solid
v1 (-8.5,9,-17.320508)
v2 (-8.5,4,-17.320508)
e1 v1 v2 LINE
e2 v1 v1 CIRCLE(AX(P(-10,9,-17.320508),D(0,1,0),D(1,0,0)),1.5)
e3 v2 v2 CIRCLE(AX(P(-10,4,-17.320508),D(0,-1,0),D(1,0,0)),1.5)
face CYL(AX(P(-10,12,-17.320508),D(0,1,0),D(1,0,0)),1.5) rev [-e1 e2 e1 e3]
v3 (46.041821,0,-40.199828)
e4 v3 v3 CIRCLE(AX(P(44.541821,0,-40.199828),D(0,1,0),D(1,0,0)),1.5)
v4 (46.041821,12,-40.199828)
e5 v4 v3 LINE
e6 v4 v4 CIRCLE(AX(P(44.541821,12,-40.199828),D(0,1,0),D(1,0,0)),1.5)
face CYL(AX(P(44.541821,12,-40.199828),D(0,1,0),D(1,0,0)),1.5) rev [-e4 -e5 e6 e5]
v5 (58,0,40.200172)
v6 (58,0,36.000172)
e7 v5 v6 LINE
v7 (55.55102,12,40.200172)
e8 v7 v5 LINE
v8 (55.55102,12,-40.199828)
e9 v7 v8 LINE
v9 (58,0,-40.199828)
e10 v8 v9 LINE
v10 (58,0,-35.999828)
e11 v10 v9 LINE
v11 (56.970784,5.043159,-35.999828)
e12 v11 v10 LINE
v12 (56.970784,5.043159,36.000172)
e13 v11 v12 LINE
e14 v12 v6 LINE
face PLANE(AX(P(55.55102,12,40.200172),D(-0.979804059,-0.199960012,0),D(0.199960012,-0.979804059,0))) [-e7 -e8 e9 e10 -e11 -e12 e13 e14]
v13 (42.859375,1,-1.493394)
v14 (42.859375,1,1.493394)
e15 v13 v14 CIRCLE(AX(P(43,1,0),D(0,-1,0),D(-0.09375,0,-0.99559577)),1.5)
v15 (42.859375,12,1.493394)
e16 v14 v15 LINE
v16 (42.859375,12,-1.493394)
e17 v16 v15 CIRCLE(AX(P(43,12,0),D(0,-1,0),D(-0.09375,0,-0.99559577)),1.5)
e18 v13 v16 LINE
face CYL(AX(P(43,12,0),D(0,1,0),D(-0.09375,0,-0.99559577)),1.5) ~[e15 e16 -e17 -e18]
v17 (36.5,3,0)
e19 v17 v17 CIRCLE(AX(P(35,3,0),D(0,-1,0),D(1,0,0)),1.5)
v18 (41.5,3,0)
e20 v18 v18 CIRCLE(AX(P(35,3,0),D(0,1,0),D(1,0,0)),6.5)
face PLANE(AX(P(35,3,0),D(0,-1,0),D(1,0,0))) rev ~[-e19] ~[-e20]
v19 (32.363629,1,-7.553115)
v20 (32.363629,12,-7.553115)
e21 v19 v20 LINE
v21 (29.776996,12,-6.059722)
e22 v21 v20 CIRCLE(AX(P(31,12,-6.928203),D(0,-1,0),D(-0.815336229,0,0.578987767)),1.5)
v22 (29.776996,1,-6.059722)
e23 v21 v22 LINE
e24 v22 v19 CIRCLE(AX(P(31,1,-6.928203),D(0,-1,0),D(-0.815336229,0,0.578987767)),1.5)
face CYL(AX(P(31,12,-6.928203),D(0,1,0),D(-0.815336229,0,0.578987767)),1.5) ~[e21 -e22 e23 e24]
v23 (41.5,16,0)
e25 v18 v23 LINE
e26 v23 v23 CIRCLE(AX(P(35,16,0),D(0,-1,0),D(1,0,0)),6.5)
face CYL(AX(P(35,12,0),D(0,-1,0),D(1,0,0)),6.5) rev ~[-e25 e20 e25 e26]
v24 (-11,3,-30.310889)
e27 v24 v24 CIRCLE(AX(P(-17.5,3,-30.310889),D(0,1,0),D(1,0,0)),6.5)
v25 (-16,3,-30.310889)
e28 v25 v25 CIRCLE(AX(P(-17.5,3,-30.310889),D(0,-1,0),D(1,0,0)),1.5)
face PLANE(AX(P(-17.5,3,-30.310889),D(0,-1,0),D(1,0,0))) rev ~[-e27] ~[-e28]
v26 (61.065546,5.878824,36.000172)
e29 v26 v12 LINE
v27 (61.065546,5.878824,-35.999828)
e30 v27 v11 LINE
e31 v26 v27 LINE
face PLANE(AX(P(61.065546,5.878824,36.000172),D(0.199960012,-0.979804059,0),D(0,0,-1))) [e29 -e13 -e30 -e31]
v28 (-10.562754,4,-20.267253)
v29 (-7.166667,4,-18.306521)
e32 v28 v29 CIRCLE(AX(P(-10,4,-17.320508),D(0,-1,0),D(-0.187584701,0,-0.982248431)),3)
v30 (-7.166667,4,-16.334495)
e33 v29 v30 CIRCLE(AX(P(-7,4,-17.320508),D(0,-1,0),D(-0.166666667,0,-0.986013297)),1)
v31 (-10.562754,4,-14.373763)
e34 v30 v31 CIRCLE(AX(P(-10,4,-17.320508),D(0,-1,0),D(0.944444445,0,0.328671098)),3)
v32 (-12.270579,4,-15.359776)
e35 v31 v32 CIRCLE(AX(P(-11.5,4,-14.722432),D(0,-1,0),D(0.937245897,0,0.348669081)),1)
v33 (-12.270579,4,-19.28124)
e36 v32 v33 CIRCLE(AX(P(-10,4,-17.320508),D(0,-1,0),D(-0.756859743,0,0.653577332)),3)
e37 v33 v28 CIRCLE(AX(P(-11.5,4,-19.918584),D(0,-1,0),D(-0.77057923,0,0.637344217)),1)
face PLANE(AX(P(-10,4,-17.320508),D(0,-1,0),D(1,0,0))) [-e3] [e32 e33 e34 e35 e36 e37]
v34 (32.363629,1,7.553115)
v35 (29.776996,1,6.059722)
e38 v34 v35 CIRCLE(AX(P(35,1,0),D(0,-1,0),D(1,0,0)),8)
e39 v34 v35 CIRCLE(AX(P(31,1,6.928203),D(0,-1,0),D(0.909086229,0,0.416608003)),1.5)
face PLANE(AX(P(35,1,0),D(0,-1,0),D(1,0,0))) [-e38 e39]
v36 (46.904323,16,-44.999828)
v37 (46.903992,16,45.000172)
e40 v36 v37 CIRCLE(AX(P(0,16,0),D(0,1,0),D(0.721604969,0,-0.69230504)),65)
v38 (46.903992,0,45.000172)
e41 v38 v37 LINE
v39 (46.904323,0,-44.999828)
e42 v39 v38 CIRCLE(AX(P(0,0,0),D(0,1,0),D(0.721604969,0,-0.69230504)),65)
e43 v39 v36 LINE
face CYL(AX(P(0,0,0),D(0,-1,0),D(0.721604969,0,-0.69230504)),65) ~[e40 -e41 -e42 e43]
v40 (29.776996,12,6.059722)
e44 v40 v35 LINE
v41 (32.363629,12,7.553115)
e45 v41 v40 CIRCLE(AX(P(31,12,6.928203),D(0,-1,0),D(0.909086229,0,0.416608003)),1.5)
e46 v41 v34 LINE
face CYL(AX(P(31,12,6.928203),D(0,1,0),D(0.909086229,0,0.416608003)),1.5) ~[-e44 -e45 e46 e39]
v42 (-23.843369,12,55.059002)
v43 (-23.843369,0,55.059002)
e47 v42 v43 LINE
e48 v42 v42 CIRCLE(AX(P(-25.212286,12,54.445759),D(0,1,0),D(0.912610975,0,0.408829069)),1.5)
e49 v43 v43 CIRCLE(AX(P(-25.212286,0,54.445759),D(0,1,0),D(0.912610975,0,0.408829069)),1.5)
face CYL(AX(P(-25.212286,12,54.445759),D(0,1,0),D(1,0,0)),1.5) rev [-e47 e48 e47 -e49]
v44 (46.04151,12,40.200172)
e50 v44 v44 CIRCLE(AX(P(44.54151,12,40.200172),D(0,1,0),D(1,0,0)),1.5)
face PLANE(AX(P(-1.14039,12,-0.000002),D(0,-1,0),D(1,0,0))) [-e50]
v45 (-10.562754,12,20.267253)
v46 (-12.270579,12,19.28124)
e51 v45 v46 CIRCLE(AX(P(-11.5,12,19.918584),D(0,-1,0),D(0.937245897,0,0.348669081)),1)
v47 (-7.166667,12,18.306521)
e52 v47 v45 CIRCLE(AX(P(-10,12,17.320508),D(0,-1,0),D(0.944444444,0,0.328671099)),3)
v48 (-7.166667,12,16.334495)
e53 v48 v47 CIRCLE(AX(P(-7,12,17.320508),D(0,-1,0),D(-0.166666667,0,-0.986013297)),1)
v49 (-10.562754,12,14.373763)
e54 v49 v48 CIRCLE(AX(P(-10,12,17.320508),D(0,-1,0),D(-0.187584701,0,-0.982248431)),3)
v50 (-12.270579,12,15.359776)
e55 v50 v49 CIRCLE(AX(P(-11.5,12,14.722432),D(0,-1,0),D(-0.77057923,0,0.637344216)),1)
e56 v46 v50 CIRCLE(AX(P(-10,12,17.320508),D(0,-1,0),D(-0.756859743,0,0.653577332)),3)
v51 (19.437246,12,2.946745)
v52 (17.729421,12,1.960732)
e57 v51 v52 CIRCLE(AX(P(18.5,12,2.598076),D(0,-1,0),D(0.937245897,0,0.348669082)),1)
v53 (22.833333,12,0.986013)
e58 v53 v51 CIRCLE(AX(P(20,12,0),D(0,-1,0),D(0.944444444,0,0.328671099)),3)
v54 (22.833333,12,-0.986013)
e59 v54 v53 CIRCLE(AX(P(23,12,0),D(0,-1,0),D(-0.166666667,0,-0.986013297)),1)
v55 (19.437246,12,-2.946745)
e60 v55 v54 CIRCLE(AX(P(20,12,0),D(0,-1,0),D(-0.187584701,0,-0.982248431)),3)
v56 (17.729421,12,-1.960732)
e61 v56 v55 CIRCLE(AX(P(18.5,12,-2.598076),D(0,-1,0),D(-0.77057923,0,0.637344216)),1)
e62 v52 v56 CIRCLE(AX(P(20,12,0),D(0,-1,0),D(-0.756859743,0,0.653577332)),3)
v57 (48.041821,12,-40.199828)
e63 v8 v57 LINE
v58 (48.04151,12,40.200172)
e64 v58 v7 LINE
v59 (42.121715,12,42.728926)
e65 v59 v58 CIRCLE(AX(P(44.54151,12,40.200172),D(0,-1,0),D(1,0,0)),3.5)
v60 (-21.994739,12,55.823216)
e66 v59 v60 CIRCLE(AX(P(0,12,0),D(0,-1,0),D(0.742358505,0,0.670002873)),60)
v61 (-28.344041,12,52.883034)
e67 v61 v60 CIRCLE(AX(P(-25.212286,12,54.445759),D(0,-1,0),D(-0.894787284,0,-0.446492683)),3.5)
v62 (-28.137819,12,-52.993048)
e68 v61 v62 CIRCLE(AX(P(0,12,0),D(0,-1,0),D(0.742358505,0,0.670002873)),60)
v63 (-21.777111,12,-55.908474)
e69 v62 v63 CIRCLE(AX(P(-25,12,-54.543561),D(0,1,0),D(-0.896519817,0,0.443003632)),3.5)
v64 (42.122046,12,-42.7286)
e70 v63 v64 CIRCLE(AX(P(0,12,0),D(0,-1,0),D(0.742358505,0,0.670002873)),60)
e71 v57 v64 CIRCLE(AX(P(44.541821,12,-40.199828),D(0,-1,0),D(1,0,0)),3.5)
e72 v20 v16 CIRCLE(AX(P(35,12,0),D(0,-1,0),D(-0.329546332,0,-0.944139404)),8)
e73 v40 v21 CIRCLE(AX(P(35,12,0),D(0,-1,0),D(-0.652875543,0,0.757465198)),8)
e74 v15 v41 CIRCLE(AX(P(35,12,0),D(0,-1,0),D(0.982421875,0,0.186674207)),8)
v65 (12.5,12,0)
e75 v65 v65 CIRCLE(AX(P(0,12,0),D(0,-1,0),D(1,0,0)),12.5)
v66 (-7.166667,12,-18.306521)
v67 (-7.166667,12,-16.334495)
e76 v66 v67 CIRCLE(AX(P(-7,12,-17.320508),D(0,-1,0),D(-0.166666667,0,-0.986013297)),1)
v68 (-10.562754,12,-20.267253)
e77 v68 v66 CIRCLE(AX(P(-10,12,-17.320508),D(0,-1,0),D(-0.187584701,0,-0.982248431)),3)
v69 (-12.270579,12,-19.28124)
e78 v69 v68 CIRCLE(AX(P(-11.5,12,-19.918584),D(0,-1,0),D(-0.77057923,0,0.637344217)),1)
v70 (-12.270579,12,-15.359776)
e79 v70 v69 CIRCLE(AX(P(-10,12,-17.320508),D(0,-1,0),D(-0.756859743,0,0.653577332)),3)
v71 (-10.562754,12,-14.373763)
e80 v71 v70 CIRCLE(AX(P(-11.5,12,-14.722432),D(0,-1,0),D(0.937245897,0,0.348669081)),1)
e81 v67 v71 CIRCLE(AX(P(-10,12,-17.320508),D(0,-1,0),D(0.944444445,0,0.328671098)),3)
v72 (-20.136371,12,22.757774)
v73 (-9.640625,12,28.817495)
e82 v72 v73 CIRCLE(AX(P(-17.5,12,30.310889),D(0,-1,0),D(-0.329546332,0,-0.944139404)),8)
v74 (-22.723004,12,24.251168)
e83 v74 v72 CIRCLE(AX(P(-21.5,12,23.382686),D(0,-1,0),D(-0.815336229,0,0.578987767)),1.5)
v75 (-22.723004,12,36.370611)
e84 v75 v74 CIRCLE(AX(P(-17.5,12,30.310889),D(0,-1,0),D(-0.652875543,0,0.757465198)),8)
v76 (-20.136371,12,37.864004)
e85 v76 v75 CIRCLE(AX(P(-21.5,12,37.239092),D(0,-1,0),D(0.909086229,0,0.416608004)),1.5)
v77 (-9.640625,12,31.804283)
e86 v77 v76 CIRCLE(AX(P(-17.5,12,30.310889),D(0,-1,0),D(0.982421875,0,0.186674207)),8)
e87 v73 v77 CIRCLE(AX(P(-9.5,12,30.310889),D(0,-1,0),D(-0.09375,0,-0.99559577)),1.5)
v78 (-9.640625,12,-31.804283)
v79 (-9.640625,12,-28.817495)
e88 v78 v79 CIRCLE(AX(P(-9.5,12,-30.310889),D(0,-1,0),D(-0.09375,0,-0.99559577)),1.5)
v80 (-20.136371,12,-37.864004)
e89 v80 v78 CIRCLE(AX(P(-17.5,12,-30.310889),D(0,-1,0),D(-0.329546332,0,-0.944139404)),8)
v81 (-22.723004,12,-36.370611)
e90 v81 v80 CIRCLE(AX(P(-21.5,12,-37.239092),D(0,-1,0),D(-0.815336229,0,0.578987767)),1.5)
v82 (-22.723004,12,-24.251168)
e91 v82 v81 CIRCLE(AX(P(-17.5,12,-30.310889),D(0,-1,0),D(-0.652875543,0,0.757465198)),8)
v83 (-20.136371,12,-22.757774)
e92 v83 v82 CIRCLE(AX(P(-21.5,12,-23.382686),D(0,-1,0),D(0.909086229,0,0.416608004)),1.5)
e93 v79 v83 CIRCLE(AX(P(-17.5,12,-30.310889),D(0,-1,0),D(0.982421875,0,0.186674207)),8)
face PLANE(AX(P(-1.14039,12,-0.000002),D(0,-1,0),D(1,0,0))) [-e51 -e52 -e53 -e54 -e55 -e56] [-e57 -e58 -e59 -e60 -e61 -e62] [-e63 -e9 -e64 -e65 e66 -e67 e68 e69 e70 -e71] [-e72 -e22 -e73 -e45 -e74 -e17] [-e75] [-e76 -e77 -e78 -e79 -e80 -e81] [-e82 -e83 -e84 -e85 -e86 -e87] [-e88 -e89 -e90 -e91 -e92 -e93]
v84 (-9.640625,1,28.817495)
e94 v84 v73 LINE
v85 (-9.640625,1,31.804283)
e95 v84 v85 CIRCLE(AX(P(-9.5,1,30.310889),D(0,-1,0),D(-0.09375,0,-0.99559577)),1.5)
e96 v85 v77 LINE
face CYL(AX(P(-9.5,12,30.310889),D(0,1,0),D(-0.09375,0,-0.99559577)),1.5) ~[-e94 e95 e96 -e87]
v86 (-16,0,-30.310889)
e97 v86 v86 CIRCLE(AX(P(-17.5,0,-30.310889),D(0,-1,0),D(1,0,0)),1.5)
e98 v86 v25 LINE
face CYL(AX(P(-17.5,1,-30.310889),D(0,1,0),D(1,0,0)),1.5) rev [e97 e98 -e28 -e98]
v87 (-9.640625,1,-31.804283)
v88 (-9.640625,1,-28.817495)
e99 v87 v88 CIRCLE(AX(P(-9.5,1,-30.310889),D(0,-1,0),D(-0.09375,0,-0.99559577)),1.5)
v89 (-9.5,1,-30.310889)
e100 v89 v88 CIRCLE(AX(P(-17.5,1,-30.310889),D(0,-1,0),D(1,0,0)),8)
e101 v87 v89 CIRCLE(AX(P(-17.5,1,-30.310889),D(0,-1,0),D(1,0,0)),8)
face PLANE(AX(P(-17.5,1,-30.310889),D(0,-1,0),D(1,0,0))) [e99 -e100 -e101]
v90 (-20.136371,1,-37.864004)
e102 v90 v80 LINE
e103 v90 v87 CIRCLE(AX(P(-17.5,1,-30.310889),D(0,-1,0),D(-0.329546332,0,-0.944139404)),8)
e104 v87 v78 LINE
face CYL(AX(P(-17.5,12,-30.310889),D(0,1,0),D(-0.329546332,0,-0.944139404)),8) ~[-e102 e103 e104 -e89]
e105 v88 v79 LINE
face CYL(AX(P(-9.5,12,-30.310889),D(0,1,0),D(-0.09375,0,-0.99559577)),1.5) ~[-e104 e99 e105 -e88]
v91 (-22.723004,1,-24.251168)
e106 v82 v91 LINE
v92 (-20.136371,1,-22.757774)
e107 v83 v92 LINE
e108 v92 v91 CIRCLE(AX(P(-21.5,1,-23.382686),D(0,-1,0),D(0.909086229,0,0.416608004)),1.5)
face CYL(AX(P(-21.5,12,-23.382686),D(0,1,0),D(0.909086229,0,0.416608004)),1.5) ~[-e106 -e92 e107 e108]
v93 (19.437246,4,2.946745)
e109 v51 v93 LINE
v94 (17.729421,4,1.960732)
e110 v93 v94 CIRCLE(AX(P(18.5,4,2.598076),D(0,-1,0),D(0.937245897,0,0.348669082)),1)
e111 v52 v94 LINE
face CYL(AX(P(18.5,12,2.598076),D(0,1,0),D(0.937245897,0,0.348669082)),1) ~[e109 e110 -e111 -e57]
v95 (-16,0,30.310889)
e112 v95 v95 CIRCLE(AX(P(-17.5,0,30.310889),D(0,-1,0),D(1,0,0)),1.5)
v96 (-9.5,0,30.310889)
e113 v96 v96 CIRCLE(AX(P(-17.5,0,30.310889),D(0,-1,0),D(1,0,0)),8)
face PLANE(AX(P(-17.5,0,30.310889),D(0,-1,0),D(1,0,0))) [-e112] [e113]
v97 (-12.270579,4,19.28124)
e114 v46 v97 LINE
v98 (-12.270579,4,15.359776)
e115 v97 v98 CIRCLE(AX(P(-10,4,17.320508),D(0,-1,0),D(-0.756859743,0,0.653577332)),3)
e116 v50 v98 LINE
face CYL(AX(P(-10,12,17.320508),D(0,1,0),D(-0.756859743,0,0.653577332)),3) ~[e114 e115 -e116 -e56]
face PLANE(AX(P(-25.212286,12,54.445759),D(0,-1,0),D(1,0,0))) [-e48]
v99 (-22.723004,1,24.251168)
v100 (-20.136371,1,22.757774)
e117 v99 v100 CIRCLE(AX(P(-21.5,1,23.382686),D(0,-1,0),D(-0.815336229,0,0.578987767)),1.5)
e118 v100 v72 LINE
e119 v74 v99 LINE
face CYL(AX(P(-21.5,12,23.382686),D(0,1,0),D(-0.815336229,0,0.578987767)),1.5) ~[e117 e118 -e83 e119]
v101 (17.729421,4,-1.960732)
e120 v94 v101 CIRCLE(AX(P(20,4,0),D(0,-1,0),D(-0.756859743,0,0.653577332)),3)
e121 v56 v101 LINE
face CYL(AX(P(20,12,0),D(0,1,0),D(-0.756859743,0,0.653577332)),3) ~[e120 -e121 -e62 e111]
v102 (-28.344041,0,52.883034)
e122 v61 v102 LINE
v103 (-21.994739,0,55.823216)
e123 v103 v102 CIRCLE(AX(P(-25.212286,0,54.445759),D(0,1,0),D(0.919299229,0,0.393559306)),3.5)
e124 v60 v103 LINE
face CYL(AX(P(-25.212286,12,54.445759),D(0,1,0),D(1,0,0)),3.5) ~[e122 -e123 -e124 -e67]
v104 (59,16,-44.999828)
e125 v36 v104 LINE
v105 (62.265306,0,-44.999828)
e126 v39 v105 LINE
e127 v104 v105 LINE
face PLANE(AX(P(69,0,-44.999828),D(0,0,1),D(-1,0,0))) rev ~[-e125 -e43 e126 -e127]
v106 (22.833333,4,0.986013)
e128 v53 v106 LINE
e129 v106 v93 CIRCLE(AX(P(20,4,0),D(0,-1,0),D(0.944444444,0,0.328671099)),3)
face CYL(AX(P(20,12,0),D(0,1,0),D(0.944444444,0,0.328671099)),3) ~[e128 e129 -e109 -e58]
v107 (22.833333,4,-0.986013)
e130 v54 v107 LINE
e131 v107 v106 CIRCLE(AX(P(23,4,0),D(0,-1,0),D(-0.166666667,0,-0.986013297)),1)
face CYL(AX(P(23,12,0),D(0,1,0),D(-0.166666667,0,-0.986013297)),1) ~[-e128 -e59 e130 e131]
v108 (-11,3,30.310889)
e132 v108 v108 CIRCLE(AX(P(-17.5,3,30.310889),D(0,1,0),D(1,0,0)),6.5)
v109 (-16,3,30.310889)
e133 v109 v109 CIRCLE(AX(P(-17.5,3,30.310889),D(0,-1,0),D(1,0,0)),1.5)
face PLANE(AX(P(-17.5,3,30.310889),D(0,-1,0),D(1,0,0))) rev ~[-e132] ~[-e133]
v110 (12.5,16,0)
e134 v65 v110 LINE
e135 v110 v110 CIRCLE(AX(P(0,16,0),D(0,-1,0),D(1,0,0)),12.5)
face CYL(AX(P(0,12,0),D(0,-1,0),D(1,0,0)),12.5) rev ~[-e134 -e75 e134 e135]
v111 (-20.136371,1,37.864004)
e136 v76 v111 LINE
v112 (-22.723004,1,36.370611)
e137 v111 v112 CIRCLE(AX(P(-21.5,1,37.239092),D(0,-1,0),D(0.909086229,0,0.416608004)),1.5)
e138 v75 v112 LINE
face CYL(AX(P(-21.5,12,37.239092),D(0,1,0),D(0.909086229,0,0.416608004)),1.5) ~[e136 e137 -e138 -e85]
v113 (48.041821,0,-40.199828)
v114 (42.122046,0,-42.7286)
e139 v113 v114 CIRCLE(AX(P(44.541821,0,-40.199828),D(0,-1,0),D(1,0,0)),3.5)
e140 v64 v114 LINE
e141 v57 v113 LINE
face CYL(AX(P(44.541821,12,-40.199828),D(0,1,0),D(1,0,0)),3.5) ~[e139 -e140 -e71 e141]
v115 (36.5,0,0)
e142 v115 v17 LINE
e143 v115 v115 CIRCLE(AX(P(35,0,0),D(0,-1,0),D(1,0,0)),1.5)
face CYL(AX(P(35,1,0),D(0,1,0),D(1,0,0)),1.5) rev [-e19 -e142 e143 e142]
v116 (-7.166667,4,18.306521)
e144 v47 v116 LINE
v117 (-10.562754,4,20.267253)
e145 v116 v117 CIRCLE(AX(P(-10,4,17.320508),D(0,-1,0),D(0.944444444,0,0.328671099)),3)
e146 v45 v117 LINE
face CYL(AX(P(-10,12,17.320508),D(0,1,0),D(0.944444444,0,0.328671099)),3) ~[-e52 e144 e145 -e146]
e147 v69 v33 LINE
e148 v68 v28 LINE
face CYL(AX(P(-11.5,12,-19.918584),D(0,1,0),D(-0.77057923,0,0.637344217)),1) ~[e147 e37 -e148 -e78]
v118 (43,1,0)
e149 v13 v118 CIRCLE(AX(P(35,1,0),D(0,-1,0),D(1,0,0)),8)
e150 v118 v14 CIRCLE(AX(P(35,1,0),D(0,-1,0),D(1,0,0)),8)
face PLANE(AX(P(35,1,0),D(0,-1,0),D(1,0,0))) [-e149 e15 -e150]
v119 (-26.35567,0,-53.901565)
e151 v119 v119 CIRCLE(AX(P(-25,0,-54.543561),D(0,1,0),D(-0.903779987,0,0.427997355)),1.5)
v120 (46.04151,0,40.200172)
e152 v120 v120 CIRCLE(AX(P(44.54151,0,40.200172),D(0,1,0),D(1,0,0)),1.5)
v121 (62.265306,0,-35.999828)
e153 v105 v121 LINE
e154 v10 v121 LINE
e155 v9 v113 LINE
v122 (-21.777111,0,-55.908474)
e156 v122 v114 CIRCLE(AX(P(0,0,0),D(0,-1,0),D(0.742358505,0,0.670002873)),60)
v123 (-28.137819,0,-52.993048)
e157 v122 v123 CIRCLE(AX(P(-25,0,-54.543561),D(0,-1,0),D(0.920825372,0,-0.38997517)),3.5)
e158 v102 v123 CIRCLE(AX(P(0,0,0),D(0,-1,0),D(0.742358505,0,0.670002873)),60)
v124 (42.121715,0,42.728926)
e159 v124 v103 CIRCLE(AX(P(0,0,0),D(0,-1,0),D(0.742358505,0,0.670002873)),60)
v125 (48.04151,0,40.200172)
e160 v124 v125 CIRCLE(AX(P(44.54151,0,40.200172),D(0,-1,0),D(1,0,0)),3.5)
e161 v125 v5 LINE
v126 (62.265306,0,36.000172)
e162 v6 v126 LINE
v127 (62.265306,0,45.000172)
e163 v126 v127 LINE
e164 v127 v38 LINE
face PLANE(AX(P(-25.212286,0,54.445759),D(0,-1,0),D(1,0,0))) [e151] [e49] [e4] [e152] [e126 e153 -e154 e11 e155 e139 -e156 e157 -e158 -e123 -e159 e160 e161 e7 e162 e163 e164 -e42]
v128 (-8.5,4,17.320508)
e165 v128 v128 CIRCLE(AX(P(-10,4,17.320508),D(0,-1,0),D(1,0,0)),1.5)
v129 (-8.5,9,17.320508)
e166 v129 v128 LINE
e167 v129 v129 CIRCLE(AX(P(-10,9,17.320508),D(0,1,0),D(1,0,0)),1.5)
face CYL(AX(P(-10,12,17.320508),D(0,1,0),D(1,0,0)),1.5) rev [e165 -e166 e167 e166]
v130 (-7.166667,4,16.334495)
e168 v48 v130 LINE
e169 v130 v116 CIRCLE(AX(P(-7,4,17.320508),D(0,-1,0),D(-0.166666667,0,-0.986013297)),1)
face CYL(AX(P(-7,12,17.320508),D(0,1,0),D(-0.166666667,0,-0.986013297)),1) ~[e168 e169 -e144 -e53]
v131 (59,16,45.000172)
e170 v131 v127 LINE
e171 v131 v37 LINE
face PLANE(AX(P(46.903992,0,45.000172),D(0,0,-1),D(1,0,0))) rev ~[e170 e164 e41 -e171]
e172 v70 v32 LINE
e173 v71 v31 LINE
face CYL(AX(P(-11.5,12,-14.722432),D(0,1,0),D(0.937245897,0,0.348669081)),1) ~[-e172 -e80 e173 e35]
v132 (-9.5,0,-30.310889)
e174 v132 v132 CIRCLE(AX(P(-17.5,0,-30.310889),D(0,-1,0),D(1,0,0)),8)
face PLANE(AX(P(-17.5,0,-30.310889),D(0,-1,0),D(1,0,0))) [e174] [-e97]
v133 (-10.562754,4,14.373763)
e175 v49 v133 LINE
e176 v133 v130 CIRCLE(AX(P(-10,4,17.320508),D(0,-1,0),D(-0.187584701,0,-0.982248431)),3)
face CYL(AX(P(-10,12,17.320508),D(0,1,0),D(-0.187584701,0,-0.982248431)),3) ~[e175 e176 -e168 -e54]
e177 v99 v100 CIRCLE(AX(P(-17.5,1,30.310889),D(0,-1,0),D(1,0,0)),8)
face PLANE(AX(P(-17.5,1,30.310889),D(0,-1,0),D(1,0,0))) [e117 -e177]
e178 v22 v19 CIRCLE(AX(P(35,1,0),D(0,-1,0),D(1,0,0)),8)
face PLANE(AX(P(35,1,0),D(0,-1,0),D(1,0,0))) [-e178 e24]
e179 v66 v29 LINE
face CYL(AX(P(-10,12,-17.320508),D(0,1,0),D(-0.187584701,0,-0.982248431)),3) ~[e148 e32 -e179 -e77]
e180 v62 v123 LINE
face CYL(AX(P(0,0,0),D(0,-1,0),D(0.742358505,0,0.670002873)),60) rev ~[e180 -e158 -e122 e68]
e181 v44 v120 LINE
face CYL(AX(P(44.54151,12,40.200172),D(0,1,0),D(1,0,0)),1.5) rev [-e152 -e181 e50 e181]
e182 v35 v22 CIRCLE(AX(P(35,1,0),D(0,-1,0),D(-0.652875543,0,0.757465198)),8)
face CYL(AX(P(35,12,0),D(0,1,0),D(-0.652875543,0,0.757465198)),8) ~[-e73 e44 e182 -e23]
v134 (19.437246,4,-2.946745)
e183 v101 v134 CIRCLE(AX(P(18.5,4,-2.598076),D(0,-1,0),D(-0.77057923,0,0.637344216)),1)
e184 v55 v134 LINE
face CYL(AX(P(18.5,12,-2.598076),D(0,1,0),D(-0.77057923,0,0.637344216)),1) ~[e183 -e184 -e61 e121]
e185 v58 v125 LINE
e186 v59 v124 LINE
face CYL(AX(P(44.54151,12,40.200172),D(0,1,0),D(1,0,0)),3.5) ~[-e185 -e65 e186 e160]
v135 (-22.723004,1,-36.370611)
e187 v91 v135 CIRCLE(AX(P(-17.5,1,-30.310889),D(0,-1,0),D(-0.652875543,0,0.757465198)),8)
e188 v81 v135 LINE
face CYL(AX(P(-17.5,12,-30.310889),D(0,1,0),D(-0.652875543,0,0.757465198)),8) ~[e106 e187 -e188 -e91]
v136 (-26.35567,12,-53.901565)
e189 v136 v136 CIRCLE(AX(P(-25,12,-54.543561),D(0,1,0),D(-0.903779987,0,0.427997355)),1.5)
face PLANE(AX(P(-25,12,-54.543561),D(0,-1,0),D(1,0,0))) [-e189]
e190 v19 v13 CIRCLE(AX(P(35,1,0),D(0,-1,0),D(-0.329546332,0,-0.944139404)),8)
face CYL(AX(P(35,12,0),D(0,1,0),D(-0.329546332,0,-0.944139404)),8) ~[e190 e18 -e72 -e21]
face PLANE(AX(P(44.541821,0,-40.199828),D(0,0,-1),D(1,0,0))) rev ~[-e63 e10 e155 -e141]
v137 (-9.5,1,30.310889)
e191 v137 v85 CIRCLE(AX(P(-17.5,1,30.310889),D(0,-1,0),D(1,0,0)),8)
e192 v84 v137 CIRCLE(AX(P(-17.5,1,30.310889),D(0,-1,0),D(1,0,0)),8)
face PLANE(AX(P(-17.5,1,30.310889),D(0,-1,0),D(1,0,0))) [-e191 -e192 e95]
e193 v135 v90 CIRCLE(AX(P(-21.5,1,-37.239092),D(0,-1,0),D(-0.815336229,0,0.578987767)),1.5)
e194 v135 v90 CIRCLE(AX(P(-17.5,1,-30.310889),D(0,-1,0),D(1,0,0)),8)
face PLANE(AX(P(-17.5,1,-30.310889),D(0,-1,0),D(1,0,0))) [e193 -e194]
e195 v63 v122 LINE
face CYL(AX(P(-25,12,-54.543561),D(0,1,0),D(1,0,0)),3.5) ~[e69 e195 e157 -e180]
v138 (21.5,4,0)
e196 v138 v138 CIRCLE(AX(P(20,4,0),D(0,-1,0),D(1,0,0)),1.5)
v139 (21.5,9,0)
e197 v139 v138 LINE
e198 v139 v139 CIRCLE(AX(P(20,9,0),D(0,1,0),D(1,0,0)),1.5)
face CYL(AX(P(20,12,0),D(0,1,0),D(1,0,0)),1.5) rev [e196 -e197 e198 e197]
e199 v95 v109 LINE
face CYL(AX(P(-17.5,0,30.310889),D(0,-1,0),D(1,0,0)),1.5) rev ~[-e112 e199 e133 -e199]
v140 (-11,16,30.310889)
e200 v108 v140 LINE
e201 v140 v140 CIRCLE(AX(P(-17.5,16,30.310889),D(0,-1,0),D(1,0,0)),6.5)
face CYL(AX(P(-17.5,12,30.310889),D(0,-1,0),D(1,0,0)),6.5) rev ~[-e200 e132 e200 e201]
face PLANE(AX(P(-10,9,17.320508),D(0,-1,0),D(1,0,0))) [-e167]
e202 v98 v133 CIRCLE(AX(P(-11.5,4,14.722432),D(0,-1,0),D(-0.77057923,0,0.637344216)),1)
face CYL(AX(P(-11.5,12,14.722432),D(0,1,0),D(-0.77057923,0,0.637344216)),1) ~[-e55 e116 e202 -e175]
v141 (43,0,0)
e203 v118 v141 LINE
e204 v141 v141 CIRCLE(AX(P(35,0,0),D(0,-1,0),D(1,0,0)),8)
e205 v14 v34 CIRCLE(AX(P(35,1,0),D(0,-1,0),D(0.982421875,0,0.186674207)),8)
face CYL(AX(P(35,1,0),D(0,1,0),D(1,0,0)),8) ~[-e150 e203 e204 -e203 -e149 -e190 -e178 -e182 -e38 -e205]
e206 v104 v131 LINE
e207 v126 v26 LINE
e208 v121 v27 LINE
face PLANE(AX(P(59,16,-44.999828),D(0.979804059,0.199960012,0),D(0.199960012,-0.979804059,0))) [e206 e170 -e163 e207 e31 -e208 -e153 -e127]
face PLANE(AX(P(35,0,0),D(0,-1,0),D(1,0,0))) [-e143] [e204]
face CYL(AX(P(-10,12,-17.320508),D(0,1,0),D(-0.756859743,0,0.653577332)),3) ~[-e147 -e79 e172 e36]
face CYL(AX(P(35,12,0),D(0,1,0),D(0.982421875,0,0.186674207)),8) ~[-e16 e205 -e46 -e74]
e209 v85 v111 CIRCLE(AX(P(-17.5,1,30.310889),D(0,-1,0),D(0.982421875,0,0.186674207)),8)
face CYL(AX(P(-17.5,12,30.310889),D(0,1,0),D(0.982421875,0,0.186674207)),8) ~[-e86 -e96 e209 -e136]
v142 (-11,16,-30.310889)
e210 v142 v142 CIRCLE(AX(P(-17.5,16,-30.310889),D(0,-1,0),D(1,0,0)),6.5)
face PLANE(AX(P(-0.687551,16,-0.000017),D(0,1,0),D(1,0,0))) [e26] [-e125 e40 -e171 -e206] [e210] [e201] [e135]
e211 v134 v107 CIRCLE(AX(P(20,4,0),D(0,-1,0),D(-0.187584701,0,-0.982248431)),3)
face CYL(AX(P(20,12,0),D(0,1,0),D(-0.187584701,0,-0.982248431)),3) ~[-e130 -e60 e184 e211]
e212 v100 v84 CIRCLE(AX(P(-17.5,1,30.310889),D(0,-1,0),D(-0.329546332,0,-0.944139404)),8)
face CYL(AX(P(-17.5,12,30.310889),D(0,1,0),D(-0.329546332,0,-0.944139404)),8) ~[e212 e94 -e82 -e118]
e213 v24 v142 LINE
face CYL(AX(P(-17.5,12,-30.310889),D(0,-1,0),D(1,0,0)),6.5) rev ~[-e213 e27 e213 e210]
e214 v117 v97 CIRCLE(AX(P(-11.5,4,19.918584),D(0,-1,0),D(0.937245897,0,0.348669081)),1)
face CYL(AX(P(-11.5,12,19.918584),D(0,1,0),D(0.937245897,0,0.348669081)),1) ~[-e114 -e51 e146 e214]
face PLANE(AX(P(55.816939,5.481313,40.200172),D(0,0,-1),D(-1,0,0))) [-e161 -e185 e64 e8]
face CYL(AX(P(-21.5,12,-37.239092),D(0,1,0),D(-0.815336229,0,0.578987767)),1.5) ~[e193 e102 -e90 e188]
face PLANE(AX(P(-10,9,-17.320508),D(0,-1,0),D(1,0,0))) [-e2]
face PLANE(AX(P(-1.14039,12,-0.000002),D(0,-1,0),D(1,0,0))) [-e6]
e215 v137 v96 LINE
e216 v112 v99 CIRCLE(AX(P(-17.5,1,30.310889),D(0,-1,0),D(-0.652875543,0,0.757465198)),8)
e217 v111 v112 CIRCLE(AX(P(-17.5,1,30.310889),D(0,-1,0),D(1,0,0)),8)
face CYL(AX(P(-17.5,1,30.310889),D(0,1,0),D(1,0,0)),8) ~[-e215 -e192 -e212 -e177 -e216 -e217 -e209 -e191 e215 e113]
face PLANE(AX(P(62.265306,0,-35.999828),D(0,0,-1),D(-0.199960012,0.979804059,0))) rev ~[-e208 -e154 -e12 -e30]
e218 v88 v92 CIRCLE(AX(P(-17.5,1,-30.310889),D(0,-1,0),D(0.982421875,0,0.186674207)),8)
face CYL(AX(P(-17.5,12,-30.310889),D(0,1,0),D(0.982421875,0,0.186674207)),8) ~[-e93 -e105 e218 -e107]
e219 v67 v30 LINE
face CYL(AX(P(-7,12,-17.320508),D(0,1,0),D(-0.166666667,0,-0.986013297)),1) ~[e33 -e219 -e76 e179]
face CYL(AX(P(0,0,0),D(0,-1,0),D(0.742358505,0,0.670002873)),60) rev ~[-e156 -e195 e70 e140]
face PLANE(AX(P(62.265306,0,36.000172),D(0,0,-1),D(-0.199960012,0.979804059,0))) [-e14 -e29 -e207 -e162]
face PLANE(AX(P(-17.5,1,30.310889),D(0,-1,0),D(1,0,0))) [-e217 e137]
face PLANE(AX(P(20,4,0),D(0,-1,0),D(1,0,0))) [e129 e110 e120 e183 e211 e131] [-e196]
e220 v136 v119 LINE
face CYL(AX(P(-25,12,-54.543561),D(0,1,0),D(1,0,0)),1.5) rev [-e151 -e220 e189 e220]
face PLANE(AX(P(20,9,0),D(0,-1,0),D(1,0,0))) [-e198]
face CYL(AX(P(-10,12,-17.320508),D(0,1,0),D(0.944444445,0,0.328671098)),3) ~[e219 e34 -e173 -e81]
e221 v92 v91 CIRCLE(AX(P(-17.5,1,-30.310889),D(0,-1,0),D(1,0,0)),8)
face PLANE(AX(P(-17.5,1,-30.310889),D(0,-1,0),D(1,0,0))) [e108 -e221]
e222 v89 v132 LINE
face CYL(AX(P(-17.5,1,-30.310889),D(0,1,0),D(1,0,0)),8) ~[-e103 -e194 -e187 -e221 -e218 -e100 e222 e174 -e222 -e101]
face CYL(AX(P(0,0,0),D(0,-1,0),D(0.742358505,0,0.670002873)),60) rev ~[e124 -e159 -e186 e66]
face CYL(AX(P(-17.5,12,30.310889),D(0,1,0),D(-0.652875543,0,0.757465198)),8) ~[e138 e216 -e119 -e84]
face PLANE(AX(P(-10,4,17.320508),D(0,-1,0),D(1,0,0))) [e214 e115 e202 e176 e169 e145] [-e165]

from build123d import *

# Parameters (mm, degrees)
BOSS_EXTRUDE1_DEPTH         = 16
CUT_EXTRUDE1_DEPTH          = 12
SKETCH4_W                   = 72
SKETCH4_H                   = 5
CUT_EXTRUDE2_DEPTH          = 16
SKETCH8_R                   = 3.5
SKETCH8_R_2                 = 1.5
INTERNALHOLESBODY_DEPTH     = 12
SKETCH13_R                  = 1.5
INTERNALHOLESCUT_DEPTH      = 12
SKETCH15_W                  = 14.23560612
SKETCH15_H                  = 16
INTERNALBODYEXTENSION_DEPTH = 90
EXTERNALDIAGONALCUT_DEPTH   = 90
DIAGONALCUT_START           = -4.8
DIAGONALCUT_DEPTH           = 80.4
SKETCH19_W                  = 72
SKETCH19_H                  = 6
DISPLAYCUT_DEPTH            = 8.4
SKETCH26_R                  = 6.5
BOSS_EXTRUDE2_DEPTH         = 11
SKETCH27_R                  = 6.5
CUT_EXTRUDE3_DEPTH          = 5
SKETCH28_R                  = 8
BOSS_EXTRUDE3_DEPTH         = 1
BOSS_EXTRUDE3_DEPTH_BACK    = 2
SKETCH30_R                  = 1.5
CUT_EXTRUDE4_DEPTH          = 3
SKETCH31_R                  = 8
SKETCH31_R_2                = 1.5
BOSS_EXTRUDE4_DEPTH         = 1
BOSS_EXTRUDE4_DEPTH_BACK    = 2
SKETCH32_R                  = 8
SKETCH32_R_2                = 1.5
BOSS_EXTRUDE5_DEPTH         = 1
BOSS_EXTRUDE5_DEPTH_BACK    = 2
SKETCH34_R                  = 1.5
BOSS_EXTRUDE6_DEPTH         = 8
SKETCH33_R                  = 12.5
CUT_EXTRUDE5_DEPTH          = 5
SKETCH35_R                  = 2
BOSS_EXTRUDE7_DEPTH         = 3


with BuildPart() as part:
    # Sketch1 → Boss-Extrude1 (new body)
    with BuildSketch(Plane(origin=(0, 0, 0), x_dir=(1, 0, 0), z_dir=(0, 1, 0))):
        with BuildLine():
            Line((25, -45.0001724), (25, 44.9998276))
            Line((25, 44.9998276), (46.904322999, 44.9998276))
            ThreePointArc((46.904322999, 44.9998276), (-65, 0.000238913), (46.903992196, -45.0001724))
            Line((46.903992196, -45.0001724), (25, -45.0001724))
        make_face()
        with BuildLine():
            Line((46.904322999, 44.9998276), (25, 44.9998276))
            Line((25, 44.9998276), (25, -45.0001724))
            Line((25, -45.0001724), (46.903992196, -45.0001724))
            ThreePointArc((46.903992196, -45.0001724), (60.306548122, -24.251190767), (65, 0))
            ThreePointArc((65, 0), (60.306637259, 24.250969105), (46.904322999, 44.9998276))
        make_face()
        with BuildLine():
            Line((69, 44.9998276), (46.904322999, 44.9998276))
            ThreePointArc((46.904322999, 44.9998276), (60.306637259, 24.250969105), (65, 0))
            ThreePointArc((65, 0), (60.306548122, -24.251190767), (46.903992196, -45.0001724))
            Line((46.903992196, -45.0001724), (69, -45.0001724))
            Line((69, -45.0001724), (69, 44.9998276))
        make_face()
    extrude(amount=BOSS_EXTRUDE1_DEPTH)

    # Sketch3 → Cut-Extrude1 (cut)
    with BuildSketch(Plane.XZ):
        with BuildLine():
            Line((13.648760289, 40.2001724), (44.541510291, 40.2001724))
            ThreePointArc((44.541510291, 40.2001724), (-60, -0.000232232), (44.541821482, -40.1998276))
            Line((44.541821482, -40.1998276), (13.648760289, -40.1998276))
            Line((13.648760289, -40.1998276), (13.648760289, 40.2001724))
        make_face()
        with BuildLine():
            ThreePointArc((60, 0), (56.002190214, 21.53496439), (44.541510291, 40.2001724))
            Line((44.541510291, 40.2001724), (13.648760289, 40.2001724))
            Line((13.648760289, 40.2001724), (13.648760289, -40.1998276))
            Line((13.648760289, -40.1998276), (44.541821482, -40.1998276))
            ThreePointArc((44.541821482, -40.1998276), (56.002273565, -21.534747631), (60, 0))
        make_face()
        with BuildLine():
            Line((64, -40.1998276), (64, 40.2001724))
            Line((64, 40.2001724), (44.541510291, 40.2001724))
            ThreePointArc((44.541510291, 40.2001724), (56.002190214, 21.53496439), (60, 0))
            ThreePointArc((60, 0), (56.002273565, -21.534747631), (44.541821482, -40.1998276))
            Line((44.541821482, -40.1998276), (64, -40.1998276))
        make_face()
    extrude(amount=-CUT_EXTRUDE1_DEPTH, mode=Mode.SUBTRACT)

    # Sketch4 → Cut-Extrude2 (cut)
    with BuildSketch(Plane(origin=(69, 0, 0), x_dir=(0, 0, -1), z_dir=(1, 0, 0))):
        with Locations((-0.0001724, 2.5)):
            Rectangle(SKETCH4_W, SKETCH4_H)
    extrude(amount=-CUT_EXTRUDE2_DEPTH, mode=Mode.SUBTRACT)

    # Sketch8 → InternalHolesBody (add)
    with BuildSketch(Plane.XZ.offset(-12)):
        with Locations((-25.212285918, 54.445758685)):
            Circle(SKETCH8_R)
        with Locations((-25.212285918, 54.445758685)):
            Circle(SKETCH8_R_2, mode=Mode.SUBTRACT)
        with Locations((-25, -54.543560573)):
            Circle(SKETCH8_R)
        with Locations((-25, -54.543560573)):
            Circle(SKETCH8_R_2, mode=Mode.SUBTRACT)
        with Locations((44.541510291, 40.2001724)):
            Circle(SKETCH8_R)
        with Locations((44.541510291, 40.2001724)):
            Circle(SKETCH8_R_2, mode=Mode.SUBTRACT)
        with Locations((44.541821482, -40.1998276)):
            Circle(SKETCH8_R)
        with Locations((44.541821482, -40.1998276)):
            Circle(SKETCH8_R_2, mode=Mode.SUBTRACT)
    extrude(amount=INTERNALHOLESBODY_DEPTH)

    # Sketch13 → InternalHolesCut (cut)
    with BuildSketch(Plane.XZ.offset(-12)):
        with Locations((44.541510291, 40.2001724)):
            Circle(SKETCH13_R)
        with Locations((-25.212285918, 54.445758685)):
            Circle(SKETCH13_R)
        with Locations((-25, -54.543560573)):
            Circle(SKETCH13_R)
        with Locations((44.541821482, -40.1998276)):
            Circle(SKETCH13_R)
    extrude(amount=INTERNALHOLESCUT_DEPTH, mode=Mode.SUBTRACT)

    # Sketch15 → InternalBodyExtension (add)
    with BuildSketch(Plane.XY.offset(45.0001724)):
        with Locations((61.88219694, 8)):
            Rectangle(SKETCH15_W, SKETCH15_H)
    extrude(amount=-INTERNALBODYEXTENSION_DEPTH)

    # Sketch14 → ExternalDiagonalCut (cut)
    with BuildSketch(Plane(origin=(0, 0, -44.9998276), x_dir=(-1, 0, 0), z_dir=(0, 0, -1))):
        Polygon((-69, 16), (-59, 16), (-69, -33), align=None)
    extrude(amount=-EXTERNALDIAGONALCUT_DEPTH, mode=Mode.SUBTRACT)

    # Sketch17 → DiagonalCut (cut)
    with BuildSketch(Plane.XY.offset(45.0001724).offset(DIAGONALCUT_START)):
        Polygon((58.000000002, 0), (54.73469388, 0), (54.73469388, 12), (55.551020411, 12), align=None)
    extrude(amount=-DIAGONALCUT_DEPTH, mode=Mode.SUBTRACT)

    # Sketch19 → DisplayCut (cut)
    with BuildSketch(Plane(origin=(59.775689724, 12.199120352, 0), x_dir=(0, 0, -1), z_dir=(0.979804059, 0.199960012, 0))):
        with Locations((-0.0001724, -9.450571359)):
            Rectangle(SKETCH19_W, SKETCH19_H)
    extrude(amount=-DISPLAYCUT_DEPTH, mode=Mode.SUBTRACT)

    # Sketch26 → Boss-Extrude2 (add)
    with BuildSketch(Plane.XZ.offset(-12)):
        with BuildLine():
            ThreePointArc((-20.136370657, 22.757773897), (-13.5, 23.382685902), (-9.640625, 28.817495477))
            ThreePointArc((-9.640625, 28.817495477), (-8, 30.310889132), (-9.640625, 31.804282788))
            ThreePointArc((-9.640625, 31.804282788), (-13.5, 37.239092363), (-20.136370657, 37.864004368))
            ThreePointArc((-20.136370657, 37.864004368), (-22.25, 38.538130468), (-22.723004343, 36.370610713))
            ThreePointArc((-22.723004343, 36.370610713), (-25.5, 30.310889132), (-22.723004343, 24.251167552))
            ThreePointArc((-22.723004343, 24.251167552), (-22.25, 22.083647797), (-20.136370657, 22.757773897))
        make_face()
        with Locations((-17.5, 30.310889132)):
            Circle(SKETCH26_R, mode=Mode.SUBTRACT)
        with BuildLine():
            ThreePointArc((-22.723004343, -24.251167552), (-25.5, -30.310889132), (-22.723004343, -36.370610713))
            ThreePointArc((-22.723004343, -36.370610713), (-22.25, -38.538130468), (-20.136370657, -37.864004368))
            ThreePointArc((-20.136370657, -37.864004368), (-13.5, -37.239092363), (-9.640625, -31.804282788))
            ThreePointArc((-9.640625, -31.804282788), (-8, -30.310889132), (-9.640625, -28.817495477))
            ThreePointArc((-9.640625, -28.817495477), (-13.5, -23.382685902), (-20.136370657, -22.757773897))
            ThreePointArc((-20.136370657, -22.757773897), (-22.25, -22.083647797), (-22.723004343, -24.251167552))
        make_face()
        with Locations((-17.5, -30.310889132)):
            Circle(SKETCH26_R, mode=Mode.SUBTRACT)
        with BuildLine():
            ThreePointArc((42.859375, 1.493393655), (39, 6.92820323), (32.363629343, 7.553115235))
            ThreePointArc((32.363629343, 7.553115235), (30.25, 8.227241336), (29.776995657, 6.05972158))
            ThreePointArc((29.776995657, 6.05972158), (27, 0), (29.776995657, -6.05972158))
            ThreePointArc((29.776995657, -6.05972158), (30.25, -8.227241336), (32.363629343, -7.553115235))
            ThreePointArc((32.363629343, -7.553115235), (39, -6.92820323), (42.859375, -1.493393655))
            ThreePointArc((42.859375, -1.493393655), (44.5, 0), (42.859375, 1.493393655))
        make_face()
        with Locations((35, 0)):
            Circle(SKETCH26_R, mode=Mode.SUBTRACT)
    extrude(amount=BOSS_EXTRUDE2_DEPTH)

    # Sketch27 → Cut-Extrude3 (cut, through all)
    with BuildSketch(Plane.XZ.offset(-12)):
        with Locations((-17.5, 30.310889132)):
            Circle(SKETCH27_R)
        with Locations((35, 0)):
            Circle(SKETCH27_R)
        with Locations((-17.5, -30.310889132)):
            Circle(SKETCH27_R)
    extrude(amount=-CUT_EXTRUDE3_DEPTH, mode=Mode.SUBTRACT)

    # Sketch28 → Boss-Extrude3 (add, two sides)
    with BuildSketch(Plane.XZ.offset(-1)) as boss_extrude3_sk:
        with Locations((-17.5, 30.310889132)):
            Circle(SKETCH28_R)
    extrude(amount=BOSS_EXTRUDE3_DEPTH)
    extrude(boss_extrude3_sk.sketch, amount=-BOSS_EXTRUDE3_DEPTH_BACK)

    # Sketch30 → Cut-Extrude4 (cut)
    with BuildSketch(Plane.XZ):
        with Locations((-17.5, 30.310889132)):
            Circle(SKETCH30_R)
    extrude(amount=-CUT_EXTRUDE4_DEPTH, mode=Mode.SUBTRACT)

    # Sketch31 → Boss-Extrude4 (add, two sides)
    with BuildSketch(Plane.XZ.offset(-1)) as boss_extrude4_sk:
        with Locations((35, 0)):
            Circle(SKETCH31_R)
        with Locations((35, 0)):
            Circle(SKETCH31_R_2, mode=Mode.SUBTRACT)
    extrude(amount=BOSS_EXTRUDE4_DEPTH)
    extrude(boss_extrude4_sk.sketch, amount=-BOSS_EXTRUDE4_DEPTH_BACK)

    # Sketch32 → Boss-Extrude5 (add, two sides)
    with BuildSketch(Plane.XZ.offset(-1)) as boss_extrude5_sk:
        with Locations((-17.5, -30.310889132)):
            Circle(SKETCH32_R)
        with Locations((-17.5, -30.310889132)):
            Circle(SKETCH32_R_2, mode=Mode.SUBTRACT)
    extrude(amount=BOSS_EXTRUDE5_DEPTH)
    extrude(boss_extrude5_sk.sketch, amount=-BOSS_EXTRUDE5_DEPTH_BACK)

    # Sketch34 → Boss-Extrude6 (add)
    with BuildSketch(Plane.XZ.offset(-12)):
        with BuildLine():
            ThreePointArc((-12.27057923, 19.281240071), (-13, 17.320508076), (-12.27057923, 15.35977608))
            ThreePointArc((-12.27057923, 15.35977608), (-12, 13.856406461), (-10.562754103, 14.373762783))
            ThreePointArc((-10.562754103, 14.373762783), (-8.5, 14.722431864), (-7.166666667, 16.334494779))
            ThreePointArc((-7.166666667, 16.334494779), (-6, 17.320508076), (-7.166666667, 18.306521373))
            ThreePointArc((-7.166666667, 18.306521373), (-8.5, 19.918584287), (-10.562754103, 20.267253368))
            ThreePointArc((-10.562754103, 20.267253368), (-12, 20.784609691), (-12.27057923, 19.281240071))
        make_face()
        with Locations((-10, 17.320508076)):
            Circle(SKETCH34_R, mode=Mode.SUBTRACT)
        with BuildLine():
            ThreePointArc((-12.27057923, -15.35977608), (-13, -17.320508076), (-12.27057923, -19.281240071))
            ThreePointArc((-12.27057923, -19.281240071), (-12, -20.784609691), (-10.562754103, -20.267253368))
            ThreePointArc((-10.562754103, -20.267253368), (-8.5, -19.918584287), (-7.166666667, -18.306521373))
            ThreePointArc((-7.166666667, -18.306521373), (-6, -17.320508076), (-7.166666667, -16.334494779))
            ThreePointArc((-7.166666667, -16.334494779), (-8.5, -14.722431864), (-10.562754103, -14.373762783))
            ThreePointArc((-10.562754103, -14.373762783), (-12, -13.856406461), (-12.27057923, -15.35977608))
        make_face()
        with Locations((-10, -17.320508076)):
            Circle(SKETCH34_R, mode=Mode.SUBTRACT)
        with BuildLine():
            ThreePointArc((17.72942077, 1.960731995), (17, 0), (17.72942077, -1.960731995))
            ThreePointArc((17.72942077, -1.960731995), (18, -3.464101615), (19.437245897, -2.946745293))
            ThreePointArc((19.437245897, -2.946745293), (21.5, -2.598076211), (22.833333333, -0.986013297))
            ThreePointArc((22.833333333, -0.986013297), (24, 0), (22.833333333, 0.986013297))
            ThreePointArc((22.833333333, 0.986013297), (21.5, 2.598076211), (19.437245897, 2.946745293))
            ThreePointArc((19.437245897, 2.946745293), (18, 3.464101615), (17.72942077, 1.960731995))
        make_face()
        with Locations((20, 0)):
            Circle(SKETCH34_R, mode=Mode.SUBTRACT)
    extrude(amount=BOSS_EXTRUDE6_DEPTH)

    # Sketch33 → Cut-Extrude5 (cut, through all)
    with BuildSketch(Plane.XZ.offset(-12)):
        Circle(SKETCH33_R)
    extrude(amount=-CUT_EXTRUDE5_DEPTH, mode=Mode.SUBTRACT)

    # Sketch35 → Boss-Extrude7 (add)
    with BuildSketch(Plane.XZ.offset(-12)):
        with Locations((20, 0)):
            Circle(SKETCH35_R)
        with Locations((-10, -17.320508076)):
            Circle(SKETCH35_R)
        with Locations((-10, 17.320508076)):
            Circle(SKETCH35_R)
    extrude(amount=BOSS_EXTRUDE7_DEPTH)


solid = part.part
